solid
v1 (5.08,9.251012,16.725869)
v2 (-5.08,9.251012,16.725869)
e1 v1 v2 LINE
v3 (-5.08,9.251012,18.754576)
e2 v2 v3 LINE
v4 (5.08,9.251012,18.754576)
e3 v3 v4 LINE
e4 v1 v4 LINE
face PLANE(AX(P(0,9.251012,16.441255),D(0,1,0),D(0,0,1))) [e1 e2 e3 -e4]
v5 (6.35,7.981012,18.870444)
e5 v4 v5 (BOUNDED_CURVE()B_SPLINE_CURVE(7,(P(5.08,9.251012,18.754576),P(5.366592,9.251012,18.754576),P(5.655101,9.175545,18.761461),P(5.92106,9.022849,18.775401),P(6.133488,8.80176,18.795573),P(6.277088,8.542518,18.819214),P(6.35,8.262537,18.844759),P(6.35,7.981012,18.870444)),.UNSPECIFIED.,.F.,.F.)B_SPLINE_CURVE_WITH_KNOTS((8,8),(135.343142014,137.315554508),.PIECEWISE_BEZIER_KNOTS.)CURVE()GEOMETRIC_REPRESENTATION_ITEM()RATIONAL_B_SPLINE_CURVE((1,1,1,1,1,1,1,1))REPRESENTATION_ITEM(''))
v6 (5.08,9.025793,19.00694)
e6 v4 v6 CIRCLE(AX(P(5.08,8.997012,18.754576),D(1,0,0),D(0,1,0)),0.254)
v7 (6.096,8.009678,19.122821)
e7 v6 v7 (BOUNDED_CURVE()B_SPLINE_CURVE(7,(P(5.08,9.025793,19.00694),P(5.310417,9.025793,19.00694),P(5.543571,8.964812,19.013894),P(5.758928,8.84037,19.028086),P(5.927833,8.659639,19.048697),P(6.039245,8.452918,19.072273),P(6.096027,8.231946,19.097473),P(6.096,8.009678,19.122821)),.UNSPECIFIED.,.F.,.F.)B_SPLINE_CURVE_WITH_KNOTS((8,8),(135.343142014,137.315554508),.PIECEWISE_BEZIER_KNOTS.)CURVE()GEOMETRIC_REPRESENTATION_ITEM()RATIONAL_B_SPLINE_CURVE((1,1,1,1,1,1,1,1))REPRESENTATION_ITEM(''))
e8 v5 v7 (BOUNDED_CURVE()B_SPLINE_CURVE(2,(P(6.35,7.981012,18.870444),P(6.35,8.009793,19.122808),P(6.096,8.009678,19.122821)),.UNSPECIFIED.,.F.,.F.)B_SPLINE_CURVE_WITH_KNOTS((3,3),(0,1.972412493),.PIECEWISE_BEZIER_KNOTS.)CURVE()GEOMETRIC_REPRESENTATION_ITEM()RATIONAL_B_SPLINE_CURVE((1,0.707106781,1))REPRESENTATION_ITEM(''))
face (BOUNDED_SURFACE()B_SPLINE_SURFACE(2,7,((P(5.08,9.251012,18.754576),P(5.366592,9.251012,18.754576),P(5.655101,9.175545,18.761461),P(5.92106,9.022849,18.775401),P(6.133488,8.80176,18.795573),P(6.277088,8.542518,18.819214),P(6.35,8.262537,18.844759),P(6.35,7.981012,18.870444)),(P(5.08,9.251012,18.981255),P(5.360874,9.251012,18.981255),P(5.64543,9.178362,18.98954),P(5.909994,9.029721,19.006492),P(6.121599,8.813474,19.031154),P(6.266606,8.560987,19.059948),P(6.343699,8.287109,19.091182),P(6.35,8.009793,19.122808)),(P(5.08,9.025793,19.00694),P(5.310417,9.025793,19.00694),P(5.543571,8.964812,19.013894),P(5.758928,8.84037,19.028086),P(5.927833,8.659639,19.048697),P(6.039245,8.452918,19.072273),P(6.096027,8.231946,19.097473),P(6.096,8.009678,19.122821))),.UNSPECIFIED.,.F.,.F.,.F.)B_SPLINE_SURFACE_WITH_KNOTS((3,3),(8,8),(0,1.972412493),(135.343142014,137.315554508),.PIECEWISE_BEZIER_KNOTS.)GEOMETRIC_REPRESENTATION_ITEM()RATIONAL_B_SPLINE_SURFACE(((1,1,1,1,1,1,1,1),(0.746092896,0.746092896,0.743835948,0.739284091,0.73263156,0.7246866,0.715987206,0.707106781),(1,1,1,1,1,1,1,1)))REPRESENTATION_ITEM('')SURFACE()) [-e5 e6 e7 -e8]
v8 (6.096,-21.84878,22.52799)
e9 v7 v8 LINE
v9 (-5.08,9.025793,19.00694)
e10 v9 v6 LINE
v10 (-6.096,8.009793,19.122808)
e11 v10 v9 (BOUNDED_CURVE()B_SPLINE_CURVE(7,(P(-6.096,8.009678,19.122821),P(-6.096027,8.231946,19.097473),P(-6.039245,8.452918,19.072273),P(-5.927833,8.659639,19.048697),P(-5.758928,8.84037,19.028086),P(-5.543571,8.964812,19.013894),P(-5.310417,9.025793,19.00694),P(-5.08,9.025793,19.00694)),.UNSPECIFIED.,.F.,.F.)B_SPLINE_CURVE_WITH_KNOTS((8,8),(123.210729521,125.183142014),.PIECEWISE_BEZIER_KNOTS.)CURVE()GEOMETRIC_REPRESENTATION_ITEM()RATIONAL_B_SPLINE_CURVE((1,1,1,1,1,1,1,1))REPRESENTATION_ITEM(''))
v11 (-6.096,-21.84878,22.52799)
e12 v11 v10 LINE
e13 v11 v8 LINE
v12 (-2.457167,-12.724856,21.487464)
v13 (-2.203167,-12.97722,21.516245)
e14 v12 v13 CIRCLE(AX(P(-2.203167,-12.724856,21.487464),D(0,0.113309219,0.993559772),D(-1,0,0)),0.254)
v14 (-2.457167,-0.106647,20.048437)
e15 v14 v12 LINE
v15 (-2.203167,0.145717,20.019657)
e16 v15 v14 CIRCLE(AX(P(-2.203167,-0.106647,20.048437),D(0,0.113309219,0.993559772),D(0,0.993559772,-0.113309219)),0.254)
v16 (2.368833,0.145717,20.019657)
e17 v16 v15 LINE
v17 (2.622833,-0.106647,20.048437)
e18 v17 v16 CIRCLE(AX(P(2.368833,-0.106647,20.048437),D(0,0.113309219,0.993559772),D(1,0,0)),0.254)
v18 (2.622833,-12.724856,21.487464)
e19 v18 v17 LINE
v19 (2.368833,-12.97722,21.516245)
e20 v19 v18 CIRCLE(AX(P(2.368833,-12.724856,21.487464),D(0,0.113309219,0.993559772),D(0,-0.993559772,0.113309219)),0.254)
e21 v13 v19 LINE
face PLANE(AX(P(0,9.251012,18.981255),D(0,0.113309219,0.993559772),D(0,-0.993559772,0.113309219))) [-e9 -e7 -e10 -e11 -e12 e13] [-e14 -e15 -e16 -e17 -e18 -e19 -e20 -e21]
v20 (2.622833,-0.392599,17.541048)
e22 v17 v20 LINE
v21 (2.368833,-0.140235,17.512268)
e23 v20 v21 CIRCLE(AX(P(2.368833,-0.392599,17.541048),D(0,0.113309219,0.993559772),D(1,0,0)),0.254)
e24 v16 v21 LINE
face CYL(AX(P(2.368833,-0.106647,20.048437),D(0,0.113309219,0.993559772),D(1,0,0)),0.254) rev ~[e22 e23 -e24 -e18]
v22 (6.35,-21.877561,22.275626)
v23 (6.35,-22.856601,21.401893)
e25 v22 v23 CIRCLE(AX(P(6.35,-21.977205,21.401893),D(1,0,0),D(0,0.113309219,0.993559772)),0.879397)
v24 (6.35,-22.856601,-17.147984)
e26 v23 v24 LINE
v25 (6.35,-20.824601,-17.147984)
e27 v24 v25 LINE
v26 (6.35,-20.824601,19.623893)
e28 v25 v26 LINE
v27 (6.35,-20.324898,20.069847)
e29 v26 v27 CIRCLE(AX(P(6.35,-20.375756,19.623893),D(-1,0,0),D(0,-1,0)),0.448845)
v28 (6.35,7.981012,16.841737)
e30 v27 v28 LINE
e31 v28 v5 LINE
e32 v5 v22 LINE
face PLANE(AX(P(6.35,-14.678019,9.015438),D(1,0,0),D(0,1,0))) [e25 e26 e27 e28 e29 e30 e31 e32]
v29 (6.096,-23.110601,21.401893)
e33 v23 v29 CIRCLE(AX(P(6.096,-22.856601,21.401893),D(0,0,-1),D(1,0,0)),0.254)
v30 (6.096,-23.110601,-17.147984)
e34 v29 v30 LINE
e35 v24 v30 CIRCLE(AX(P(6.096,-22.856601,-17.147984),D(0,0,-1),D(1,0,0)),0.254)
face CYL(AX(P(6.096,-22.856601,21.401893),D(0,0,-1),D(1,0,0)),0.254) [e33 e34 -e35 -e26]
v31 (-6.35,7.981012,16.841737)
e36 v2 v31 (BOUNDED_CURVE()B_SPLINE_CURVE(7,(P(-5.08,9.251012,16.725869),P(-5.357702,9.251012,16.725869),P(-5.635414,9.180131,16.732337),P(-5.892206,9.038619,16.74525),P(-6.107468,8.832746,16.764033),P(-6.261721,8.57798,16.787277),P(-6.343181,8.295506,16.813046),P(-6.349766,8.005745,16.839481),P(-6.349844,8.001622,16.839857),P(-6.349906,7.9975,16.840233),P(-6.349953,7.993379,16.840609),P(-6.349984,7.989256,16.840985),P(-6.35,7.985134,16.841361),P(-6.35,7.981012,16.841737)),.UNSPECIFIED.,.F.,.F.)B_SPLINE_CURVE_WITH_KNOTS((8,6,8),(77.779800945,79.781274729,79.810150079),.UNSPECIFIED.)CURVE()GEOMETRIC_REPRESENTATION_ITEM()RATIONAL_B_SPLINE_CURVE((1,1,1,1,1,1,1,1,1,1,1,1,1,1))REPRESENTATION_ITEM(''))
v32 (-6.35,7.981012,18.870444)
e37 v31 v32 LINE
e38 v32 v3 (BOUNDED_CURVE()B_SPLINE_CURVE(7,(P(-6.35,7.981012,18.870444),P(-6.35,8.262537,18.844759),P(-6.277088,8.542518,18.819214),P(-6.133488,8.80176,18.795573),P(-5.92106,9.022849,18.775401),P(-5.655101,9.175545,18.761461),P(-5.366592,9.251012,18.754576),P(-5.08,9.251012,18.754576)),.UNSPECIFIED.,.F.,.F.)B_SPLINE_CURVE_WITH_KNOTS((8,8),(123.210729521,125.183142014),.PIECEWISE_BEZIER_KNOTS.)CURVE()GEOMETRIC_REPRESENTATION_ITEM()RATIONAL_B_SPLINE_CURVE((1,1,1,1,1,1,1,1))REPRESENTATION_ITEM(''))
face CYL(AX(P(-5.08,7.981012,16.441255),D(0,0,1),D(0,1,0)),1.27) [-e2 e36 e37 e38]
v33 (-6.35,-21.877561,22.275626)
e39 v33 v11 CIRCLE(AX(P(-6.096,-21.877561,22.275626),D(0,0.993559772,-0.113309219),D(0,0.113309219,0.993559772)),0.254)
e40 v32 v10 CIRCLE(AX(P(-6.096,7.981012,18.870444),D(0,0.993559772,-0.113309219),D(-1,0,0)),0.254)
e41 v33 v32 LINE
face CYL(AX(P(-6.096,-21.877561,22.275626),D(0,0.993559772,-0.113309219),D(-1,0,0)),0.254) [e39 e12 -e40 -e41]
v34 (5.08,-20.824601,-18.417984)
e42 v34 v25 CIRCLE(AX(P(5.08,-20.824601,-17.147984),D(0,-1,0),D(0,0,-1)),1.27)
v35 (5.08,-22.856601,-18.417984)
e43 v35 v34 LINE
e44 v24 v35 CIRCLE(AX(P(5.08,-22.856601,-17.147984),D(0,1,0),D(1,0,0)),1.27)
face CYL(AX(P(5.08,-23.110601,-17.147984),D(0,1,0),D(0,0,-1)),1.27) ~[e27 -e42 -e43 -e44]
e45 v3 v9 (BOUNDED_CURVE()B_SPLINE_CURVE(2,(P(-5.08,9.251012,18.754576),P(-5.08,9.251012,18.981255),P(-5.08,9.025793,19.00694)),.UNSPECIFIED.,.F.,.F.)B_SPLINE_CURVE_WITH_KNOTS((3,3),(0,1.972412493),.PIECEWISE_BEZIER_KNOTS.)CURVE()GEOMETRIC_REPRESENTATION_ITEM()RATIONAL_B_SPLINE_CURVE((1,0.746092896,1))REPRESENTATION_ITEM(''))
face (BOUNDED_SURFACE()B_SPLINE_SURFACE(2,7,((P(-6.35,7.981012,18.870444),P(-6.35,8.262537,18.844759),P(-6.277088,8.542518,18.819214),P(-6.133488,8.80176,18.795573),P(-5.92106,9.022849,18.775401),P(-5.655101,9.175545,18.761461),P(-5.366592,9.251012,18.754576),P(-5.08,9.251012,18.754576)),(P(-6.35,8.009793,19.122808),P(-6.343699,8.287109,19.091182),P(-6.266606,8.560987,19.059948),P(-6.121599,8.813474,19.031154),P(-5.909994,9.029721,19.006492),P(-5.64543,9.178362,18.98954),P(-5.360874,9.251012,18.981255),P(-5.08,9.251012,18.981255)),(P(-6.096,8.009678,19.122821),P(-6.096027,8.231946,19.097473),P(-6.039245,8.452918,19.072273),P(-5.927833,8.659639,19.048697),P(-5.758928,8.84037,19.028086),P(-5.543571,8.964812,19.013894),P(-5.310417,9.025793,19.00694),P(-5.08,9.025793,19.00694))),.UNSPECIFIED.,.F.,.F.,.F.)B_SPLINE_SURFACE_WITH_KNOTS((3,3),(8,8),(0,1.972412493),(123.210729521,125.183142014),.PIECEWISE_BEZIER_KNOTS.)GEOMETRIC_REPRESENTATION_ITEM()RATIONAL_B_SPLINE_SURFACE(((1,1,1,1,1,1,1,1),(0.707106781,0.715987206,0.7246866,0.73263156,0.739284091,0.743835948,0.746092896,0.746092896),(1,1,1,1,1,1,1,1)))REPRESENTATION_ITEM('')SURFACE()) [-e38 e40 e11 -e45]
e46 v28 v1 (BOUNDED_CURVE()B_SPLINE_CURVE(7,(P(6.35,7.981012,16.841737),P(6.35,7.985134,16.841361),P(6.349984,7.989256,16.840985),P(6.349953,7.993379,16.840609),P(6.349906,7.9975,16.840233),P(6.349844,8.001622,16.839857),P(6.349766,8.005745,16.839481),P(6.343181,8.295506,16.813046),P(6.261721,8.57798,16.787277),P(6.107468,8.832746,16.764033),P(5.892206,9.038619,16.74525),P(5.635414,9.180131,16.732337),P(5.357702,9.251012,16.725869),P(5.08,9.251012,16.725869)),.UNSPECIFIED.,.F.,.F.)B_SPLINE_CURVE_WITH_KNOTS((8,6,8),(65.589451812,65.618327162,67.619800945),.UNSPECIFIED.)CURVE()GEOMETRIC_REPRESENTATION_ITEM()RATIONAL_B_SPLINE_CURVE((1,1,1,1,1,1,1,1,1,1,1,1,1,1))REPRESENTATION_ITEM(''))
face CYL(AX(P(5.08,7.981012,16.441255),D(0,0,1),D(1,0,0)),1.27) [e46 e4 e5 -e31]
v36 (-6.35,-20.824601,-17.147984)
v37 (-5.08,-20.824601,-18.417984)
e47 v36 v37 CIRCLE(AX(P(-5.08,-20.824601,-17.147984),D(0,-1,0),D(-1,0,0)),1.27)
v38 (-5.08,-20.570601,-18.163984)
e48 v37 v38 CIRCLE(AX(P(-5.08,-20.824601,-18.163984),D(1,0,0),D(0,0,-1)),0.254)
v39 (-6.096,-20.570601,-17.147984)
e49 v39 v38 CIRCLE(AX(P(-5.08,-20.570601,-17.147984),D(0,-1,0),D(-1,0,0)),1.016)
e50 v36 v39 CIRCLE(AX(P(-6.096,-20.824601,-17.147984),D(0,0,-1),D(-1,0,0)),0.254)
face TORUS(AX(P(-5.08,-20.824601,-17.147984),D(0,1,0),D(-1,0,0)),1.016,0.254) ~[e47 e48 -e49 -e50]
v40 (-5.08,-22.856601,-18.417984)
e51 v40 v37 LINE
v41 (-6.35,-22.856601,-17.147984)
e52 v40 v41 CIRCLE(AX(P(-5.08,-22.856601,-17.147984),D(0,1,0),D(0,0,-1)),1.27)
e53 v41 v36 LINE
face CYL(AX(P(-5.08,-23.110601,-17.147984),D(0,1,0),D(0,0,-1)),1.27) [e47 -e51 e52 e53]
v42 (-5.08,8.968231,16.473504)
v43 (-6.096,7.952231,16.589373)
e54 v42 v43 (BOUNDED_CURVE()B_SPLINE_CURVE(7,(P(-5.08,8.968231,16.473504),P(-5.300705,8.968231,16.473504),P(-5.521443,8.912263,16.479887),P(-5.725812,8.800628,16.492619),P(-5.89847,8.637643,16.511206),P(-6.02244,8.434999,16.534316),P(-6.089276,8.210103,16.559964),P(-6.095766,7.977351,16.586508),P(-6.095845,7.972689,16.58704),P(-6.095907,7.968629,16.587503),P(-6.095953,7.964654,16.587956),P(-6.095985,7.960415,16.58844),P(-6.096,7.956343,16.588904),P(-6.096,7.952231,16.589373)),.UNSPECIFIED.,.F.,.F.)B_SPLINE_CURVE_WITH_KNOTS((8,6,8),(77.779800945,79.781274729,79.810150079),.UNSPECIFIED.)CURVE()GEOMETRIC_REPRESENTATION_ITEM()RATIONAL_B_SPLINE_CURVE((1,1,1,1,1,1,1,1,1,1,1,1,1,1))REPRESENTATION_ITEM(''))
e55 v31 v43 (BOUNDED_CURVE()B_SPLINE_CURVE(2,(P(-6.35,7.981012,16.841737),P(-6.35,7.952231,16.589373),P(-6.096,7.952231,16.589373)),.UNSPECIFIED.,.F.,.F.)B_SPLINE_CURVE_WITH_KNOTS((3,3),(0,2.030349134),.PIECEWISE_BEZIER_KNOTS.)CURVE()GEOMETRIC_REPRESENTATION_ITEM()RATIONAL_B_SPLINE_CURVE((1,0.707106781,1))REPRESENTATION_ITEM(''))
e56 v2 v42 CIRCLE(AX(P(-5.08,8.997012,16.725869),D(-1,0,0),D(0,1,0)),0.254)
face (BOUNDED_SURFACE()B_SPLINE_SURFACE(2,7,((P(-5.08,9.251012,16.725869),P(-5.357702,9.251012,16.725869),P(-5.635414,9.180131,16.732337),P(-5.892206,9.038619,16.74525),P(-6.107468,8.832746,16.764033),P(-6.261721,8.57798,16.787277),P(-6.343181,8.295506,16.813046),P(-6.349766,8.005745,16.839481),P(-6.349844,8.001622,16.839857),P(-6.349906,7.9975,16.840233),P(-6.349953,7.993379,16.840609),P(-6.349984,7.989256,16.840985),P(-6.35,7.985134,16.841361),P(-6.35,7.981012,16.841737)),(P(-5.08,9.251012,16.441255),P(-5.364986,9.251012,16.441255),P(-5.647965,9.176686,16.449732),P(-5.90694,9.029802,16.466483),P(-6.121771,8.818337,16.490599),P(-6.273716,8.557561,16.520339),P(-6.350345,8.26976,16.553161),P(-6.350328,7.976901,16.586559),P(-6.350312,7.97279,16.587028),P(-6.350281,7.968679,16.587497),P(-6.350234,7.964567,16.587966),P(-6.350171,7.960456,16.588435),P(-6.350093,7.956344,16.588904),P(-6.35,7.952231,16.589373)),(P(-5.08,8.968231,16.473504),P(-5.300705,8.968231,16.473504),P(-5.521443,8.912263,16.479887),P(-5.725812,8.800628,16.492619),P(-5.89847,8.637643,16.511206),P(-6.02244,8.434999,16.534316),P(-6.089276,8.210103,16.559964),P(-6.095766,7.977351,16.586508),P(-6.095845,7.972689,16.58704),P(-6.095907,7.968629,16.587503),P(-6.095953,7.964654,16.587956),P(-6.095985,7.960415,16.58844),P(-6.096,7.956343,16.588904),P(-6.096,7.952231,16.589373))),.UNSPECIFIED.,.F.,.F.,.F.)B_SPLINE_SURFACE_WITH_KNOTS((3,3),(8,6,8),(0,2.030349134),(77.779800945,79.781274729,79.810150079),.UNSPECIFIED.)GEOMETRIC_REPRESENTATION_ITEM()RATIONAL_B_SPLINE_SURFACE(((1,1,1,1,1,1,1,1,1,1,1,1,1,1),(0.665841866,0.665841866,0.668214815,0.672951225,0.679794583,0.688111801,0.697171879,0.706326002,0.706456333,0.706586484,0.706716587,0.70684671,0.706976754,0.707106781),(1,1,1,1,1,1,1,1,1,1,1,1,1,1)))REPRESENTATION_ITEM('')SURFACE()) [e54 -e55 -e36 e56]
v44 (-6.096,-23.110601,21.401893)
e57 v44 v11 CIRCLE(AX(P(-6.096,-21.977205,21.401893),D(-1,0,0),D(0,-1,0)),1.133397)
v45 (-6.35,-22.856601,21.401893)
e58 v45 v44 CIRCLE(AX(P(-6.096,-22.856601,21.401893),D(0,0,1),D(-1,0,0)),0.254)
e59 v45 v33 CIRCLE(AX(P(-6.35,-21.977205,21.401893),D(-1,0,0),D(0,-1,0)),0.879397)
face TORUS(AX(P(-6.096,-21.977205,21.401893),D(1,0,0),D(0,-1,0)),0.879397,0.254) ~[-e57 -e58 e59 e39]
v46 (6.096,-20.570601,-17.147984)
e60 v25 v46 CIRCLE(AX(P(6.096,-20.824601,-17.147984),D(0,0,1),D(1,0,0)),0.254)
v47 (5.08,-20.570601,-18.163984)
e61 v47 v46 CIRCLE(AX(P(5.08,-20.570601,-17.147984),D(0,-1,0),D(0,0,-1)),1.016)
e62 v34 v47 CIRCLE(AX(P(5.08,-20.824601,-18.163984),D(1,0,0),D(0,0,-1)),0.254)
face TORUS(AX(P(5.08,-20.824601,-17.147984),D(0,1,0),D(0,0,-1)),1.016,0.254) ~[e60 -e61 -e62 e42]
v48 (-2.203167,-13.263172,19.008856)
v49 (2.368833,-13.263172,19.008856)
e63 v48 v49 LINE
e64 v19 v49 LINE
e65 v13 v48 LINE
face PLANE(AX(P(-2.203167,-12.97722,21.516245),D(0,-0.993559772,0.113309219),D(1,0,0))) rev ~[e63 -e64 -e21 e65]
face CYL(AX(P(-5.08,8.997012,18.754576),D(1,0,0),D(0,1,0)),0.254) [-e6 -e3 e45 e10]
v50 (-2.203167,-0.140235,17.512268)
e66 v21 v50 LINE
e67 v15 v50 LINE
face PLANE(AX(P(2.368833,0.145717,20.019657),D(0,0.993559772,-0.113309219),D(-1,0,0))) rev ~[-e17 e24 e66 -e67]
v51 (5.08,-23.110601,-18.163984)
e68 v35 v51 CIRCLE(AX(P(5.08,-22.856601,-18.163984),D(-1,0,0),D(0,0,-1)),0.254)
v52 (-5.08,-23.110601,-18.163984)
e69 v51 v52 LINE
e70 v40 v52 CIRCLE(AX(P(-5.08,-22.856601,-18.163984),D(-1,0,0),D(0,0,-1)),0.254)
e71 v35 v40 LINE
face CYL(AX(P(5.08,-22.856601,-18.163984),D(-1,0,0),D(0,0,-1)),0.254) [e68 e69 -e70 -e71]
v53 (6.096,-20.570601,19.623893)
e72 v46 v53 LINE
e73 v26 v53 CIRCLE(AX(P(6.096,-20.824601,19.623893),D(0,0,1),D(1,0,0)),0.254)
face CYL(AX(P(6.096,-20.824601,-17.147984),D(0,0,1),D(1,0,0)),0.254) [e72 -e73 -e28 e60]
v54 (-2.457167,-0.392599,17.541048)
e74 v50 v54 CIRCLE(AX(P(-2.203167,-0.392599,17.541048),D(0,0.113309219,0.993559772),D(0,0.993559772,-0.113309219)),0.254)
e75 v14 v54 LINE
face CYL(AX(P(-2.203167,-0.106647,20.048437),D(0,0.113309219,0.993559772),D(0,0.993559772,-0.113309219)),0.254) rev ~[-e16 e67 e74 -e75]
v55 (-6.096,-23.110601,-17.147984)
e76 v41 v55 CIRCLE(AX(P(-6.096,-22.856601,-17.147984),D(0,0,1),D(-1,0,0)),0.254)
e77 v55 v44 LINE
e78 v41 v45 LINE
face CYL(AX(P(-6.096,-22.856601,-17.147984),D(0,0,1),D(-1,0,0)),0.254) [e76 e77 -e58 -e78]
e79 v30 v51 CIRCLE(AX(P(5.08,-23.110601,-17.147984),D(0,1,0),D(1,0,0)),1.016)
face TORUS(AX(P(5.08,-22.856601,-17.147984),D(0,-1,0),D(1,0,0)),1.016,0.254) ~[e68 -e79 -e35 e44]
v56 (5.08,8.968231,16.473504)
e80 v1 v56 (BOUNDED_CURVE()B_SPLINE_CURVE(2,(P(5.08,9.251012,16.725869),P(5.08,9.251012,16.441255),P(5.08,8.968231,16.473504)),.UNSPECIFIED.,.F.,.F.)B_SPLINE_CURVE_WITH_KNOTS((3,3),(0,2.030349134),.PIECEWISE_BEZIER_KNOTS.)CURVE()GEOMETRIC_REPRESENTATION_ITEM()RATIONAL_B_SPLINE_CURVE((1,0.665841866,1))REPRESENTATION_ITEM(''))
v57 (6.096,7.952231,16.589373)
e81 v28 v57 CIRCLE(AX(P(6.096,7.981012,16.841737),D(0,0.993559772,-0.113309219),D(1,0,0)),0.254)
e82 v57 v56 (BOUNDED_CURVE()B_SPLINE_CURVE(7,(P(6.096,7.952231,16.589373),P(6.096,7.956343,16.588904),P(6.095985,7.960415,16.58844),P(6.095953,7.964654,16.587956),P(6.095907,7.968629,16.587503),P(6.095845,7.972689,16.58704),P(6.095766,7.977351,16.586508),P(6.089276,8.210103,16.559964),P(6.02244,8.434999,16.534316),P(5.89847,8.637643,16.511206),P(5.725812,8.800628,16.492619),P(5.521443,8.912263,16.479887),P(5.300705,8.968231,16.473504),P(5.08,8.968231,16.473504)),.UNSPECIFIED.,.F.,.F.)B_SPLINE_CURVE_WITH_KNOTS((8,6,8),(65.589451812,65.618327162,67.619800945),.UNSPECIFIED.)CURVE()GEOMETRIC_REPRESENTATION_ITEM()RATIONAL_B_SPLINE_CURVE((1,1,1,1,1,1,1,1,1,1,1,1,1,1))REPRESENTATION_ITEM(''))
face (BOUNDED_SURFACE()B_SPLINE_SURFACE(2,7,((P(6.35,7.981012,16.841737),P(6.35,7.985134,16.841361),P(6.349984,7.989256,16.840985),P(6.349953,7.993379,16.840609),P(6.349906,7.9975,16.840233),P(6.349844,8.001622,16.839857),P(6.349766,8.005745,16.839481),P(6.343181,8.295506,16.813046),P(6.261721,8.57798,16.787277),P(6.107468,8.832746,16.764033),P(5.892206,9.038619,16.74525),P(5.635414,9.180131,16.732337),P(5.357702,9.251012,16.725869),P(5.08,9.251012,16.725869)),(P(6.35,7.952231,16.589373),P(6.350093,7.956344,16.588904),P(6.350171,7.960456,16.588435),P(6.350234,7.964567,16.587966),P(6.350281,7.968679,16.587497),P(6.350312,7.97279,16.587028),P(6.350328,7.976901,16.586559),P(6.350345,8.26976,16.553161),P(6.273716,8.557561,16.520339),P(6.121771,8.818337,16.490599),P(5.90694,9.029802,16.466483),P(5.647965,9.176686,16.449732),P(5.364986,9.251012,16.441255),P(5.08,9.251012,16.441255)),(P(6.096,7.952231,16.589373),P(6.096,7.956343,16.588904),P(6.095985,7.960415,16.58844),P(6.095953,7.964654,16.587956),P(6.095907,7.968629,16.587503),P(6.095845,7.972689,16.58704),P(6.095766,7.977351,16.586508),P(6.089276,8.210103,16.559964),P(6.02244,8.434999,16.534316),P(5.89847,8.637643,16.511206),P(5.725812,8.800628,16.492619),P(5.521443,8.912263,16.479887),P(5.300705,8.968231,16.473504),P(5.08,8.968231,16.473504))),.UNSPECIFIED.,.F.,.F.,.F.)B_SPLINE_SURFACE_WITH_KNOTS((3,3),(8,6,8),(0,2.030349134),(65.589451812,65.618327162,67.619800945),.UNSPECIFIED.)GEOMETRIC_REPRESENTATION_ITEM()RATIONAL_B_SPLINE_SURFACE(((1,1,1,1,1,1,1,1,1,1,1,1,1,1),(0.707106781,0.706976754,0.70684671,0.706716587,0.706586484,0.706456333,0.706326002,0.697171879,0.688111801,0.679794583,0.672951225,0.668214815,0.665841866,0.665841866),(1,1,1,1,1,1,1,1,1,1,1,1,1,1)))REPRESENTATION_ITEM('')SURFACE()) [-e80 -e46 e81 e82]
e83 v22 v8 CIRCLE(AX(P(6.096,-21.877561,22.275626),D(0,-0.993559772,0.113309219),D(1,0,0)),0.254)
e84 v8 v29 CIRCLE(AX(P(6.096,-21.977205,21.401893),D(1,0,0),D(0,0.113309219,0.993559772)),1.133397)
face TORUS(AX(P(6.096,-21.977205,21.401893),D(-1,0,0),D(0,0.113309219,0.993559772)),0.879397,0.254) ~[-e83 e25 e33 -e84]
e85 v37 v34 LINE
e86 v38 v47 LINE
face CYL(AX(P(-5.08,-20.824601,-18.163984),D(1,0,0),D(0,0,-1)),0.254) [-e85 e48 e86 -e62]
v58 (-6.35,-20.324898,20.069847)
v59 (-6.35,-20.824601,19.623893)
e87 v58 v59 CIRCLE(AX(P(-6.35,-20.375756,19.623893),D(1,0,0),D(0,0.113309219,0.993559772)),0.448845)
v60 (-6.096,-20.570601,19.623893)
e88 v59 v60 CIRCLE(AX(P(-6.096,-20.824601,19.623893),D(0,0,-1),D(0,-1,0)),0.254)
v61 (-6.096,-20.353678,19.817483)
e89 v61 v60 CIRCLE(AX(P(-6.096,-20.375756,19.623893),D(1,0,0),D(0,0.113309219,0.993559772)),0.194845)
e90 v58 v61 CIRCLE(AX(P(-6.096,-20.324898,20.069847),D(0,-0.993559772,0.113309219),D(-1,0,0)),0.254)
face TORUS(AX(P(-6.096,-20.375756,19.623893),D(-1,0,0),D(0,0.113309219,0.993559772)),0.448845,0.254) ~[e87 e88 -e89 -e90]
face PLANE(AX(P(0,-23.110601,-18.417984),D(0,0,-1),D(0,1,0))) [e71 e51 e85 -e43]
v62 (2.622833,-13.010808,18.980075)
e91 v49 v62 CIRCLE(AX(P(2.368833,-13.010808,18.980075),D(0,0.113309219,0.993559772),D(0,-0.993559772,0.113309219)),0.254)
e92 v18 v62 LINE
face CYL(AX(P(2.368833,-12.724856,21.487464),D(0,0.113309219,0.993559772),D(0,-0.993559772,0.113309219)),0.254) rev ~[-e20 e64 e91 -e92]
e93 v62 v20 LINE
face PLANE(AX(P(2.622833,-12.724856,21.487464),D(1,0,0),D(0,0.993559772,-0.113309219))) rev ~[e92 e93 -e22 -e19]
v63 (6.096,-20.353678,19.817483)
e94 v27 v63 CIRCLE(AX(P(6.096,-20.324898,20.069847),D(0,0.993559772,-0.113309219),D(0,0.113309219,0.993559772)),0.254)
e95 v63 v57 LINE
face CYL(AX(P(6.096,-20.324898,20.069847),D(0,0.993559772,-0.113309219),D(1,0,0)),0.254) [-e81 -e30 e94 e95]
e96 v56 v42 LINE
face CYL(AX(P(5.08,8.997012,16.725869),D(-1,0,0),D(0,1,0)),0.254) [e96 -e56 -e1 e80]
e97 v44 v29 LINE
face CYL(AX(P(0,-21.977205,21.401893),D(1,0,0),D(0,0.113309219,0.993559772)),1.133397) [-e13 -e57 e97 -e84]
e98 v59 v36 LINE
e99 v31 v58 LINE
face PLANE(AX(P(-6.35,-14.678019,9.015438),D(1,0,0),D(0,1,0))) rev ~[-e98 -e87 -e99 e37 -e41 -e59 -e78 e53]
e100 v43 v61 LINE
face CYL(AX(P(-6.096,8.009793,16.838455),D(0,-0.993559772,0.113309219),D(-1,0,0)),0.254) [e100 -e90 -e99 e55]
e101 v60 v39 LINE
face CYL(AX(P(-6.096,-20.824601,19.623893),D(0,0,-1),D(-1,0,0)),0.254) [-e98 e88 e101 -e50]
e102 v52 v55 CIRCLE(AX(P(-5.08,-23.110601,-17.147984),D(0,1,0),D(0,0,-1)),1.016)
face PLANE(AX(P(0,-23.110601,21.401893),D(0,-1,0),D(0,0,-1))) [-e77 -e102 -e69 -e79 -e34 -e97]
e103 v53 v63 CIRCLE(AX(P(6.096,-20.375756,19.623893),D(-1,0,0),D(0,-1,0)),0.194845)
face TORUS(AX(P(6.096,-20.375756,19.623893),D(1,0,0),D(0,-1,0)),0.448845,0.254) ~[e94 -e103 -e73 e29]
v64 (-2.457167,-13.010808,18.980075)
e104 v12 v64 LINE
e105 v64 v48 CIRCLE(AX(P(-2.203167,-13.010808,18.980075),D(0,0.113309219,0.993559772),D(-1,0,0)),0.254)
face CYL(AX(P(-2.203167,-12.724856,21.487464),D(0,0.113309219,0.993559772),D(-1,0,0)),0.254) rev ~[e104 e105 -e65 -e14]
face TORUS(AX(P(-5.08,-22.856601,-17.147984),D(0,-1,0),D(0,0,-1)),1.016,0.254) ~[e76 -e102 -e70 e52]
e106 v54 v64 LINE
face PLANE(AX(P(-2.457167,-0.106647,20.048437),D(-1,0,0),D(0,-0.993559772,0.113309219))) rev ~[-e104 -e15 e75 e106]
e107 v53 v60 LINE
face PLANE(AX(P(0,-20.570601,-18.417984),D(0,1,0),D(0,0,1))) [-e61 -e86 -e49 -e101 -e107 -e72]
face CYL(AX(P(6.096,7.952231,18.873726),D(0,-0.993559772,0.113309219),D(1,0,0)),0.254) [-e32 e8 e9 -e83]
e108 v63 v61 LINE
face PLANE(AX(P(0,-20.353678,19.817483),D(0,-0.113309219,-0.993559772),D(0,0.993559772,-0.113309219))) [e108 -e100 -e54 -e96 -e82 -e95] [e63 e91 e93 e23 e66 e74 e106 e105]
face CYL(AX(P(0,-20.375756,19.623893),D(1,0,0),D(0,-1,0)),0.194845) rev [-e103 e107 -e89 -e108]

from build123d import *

# Parameters (mm, degrees)
F1_DEPTH = 6.35
F2_R     = 1.27
F3_R     = 0.254
F5_DEPTH = 2.5236418215


with BuildPart() as f1:
    # F0 (on Right) → F1 (new body, symmetric)
    with BuildSketch(Plane.YZ):
        with BuildLine():
            Line((-20.3536781971, 19.8174831357), (9.2510120329, 16.4412551424))
            Line((9.2510120329, 16.4412551424), (9.2510120329, 18.9812551424))
            Line((9.2510120329, 18.9812551424), (-21.8487802355, 22.5279900829))
            ThreePointArc((-21.8487802355, 22.5279900829), (-22.7318674452, 22.2475119605), (-23.1106011462, 21.4018927905))
            Line((-23.1106011462, 21.4018927905), (-23.1106011462, -18.4179837987))
            Line((-23.1106011462, -18.4179837987), (-20.5706011462, -18.4179837987))
            Line((-20.5706011462, -18.4179837987), (-20.5706011462, 19.6238927905))
            ThreePointArc((-20.5706011462, 19.6238927905), (-20.5054920403, 19.7692654045), (-20.3536781971, 19.8174831357))
        make_face()
    extrude(amount=F1_DEPTH, both=True)

    # F2
    f2_edges = [f1.edges().sort_by_distance(p)[0] for p in [
        (6.35, 9.251012, 17.711255),
        (-6.35, 9.251012, 17.711255),
        (-6.35, -21.840601, -18.417984),
        (6.35, -21.840601, -18.417984),
    ]]
    fillet(f2_edges, radius=F2_R)

    # F3
    f3_edges = [f1.edges().sort_by_distance(p)[0] for p in [
        (6.35, -23.110601, 2.126954),
        (6.35, -20.570601, 1.237954),
    ]]
    fillet(f3_edges, radius=F3_R)

    # F4 (on face) → F5 (cut, through all)
    with BuildSketch(Plane(origin=(0, 2.2556734095, 19.779029343), x_dir=(1, 0, 0), z_dir=(0, 0.1133092186, 0.9935597722))):
        with BuildLine():
            Line((2.3688334775, -2.1236329222), (-2.2031665225, -2.1236329222))
            ThreePointArc((-2.2031665225, -2.1236329222), (-2.382771645, -2.1980277998), (-2.4571665225, -2.3776329222))
            Line((-2.4571665225, -2.3776329222), (-2.4571665225, -15.0776329222))
            ThreePointArc((-2.4571665225, -15.0776329222), (-2.382771645, -15.2572380446), (-2.2031665225, -15.3316329222))
            Line((-2.2031665225, -15.3316329222), (2.3688334775, -15.3316329222))
            ThreePointArc((2.3688334775, -15.3316329222), (2.5484385999, -15.2572380446), (2.6228334775, -15.0776329222))
            Line((2.6228334775, -15.0776329222), (2.6228334775, -2.3776329222))
            ThreePointArc((2.6228334775, -2.3776329222), (2.5484385999, -2.1980277998), (2.3688334775, -2.1236329222))
        make_face()
    extrude(amount=-F5_DEPTH, mode=Mode.SUBTRACT)


solid = f1.part
